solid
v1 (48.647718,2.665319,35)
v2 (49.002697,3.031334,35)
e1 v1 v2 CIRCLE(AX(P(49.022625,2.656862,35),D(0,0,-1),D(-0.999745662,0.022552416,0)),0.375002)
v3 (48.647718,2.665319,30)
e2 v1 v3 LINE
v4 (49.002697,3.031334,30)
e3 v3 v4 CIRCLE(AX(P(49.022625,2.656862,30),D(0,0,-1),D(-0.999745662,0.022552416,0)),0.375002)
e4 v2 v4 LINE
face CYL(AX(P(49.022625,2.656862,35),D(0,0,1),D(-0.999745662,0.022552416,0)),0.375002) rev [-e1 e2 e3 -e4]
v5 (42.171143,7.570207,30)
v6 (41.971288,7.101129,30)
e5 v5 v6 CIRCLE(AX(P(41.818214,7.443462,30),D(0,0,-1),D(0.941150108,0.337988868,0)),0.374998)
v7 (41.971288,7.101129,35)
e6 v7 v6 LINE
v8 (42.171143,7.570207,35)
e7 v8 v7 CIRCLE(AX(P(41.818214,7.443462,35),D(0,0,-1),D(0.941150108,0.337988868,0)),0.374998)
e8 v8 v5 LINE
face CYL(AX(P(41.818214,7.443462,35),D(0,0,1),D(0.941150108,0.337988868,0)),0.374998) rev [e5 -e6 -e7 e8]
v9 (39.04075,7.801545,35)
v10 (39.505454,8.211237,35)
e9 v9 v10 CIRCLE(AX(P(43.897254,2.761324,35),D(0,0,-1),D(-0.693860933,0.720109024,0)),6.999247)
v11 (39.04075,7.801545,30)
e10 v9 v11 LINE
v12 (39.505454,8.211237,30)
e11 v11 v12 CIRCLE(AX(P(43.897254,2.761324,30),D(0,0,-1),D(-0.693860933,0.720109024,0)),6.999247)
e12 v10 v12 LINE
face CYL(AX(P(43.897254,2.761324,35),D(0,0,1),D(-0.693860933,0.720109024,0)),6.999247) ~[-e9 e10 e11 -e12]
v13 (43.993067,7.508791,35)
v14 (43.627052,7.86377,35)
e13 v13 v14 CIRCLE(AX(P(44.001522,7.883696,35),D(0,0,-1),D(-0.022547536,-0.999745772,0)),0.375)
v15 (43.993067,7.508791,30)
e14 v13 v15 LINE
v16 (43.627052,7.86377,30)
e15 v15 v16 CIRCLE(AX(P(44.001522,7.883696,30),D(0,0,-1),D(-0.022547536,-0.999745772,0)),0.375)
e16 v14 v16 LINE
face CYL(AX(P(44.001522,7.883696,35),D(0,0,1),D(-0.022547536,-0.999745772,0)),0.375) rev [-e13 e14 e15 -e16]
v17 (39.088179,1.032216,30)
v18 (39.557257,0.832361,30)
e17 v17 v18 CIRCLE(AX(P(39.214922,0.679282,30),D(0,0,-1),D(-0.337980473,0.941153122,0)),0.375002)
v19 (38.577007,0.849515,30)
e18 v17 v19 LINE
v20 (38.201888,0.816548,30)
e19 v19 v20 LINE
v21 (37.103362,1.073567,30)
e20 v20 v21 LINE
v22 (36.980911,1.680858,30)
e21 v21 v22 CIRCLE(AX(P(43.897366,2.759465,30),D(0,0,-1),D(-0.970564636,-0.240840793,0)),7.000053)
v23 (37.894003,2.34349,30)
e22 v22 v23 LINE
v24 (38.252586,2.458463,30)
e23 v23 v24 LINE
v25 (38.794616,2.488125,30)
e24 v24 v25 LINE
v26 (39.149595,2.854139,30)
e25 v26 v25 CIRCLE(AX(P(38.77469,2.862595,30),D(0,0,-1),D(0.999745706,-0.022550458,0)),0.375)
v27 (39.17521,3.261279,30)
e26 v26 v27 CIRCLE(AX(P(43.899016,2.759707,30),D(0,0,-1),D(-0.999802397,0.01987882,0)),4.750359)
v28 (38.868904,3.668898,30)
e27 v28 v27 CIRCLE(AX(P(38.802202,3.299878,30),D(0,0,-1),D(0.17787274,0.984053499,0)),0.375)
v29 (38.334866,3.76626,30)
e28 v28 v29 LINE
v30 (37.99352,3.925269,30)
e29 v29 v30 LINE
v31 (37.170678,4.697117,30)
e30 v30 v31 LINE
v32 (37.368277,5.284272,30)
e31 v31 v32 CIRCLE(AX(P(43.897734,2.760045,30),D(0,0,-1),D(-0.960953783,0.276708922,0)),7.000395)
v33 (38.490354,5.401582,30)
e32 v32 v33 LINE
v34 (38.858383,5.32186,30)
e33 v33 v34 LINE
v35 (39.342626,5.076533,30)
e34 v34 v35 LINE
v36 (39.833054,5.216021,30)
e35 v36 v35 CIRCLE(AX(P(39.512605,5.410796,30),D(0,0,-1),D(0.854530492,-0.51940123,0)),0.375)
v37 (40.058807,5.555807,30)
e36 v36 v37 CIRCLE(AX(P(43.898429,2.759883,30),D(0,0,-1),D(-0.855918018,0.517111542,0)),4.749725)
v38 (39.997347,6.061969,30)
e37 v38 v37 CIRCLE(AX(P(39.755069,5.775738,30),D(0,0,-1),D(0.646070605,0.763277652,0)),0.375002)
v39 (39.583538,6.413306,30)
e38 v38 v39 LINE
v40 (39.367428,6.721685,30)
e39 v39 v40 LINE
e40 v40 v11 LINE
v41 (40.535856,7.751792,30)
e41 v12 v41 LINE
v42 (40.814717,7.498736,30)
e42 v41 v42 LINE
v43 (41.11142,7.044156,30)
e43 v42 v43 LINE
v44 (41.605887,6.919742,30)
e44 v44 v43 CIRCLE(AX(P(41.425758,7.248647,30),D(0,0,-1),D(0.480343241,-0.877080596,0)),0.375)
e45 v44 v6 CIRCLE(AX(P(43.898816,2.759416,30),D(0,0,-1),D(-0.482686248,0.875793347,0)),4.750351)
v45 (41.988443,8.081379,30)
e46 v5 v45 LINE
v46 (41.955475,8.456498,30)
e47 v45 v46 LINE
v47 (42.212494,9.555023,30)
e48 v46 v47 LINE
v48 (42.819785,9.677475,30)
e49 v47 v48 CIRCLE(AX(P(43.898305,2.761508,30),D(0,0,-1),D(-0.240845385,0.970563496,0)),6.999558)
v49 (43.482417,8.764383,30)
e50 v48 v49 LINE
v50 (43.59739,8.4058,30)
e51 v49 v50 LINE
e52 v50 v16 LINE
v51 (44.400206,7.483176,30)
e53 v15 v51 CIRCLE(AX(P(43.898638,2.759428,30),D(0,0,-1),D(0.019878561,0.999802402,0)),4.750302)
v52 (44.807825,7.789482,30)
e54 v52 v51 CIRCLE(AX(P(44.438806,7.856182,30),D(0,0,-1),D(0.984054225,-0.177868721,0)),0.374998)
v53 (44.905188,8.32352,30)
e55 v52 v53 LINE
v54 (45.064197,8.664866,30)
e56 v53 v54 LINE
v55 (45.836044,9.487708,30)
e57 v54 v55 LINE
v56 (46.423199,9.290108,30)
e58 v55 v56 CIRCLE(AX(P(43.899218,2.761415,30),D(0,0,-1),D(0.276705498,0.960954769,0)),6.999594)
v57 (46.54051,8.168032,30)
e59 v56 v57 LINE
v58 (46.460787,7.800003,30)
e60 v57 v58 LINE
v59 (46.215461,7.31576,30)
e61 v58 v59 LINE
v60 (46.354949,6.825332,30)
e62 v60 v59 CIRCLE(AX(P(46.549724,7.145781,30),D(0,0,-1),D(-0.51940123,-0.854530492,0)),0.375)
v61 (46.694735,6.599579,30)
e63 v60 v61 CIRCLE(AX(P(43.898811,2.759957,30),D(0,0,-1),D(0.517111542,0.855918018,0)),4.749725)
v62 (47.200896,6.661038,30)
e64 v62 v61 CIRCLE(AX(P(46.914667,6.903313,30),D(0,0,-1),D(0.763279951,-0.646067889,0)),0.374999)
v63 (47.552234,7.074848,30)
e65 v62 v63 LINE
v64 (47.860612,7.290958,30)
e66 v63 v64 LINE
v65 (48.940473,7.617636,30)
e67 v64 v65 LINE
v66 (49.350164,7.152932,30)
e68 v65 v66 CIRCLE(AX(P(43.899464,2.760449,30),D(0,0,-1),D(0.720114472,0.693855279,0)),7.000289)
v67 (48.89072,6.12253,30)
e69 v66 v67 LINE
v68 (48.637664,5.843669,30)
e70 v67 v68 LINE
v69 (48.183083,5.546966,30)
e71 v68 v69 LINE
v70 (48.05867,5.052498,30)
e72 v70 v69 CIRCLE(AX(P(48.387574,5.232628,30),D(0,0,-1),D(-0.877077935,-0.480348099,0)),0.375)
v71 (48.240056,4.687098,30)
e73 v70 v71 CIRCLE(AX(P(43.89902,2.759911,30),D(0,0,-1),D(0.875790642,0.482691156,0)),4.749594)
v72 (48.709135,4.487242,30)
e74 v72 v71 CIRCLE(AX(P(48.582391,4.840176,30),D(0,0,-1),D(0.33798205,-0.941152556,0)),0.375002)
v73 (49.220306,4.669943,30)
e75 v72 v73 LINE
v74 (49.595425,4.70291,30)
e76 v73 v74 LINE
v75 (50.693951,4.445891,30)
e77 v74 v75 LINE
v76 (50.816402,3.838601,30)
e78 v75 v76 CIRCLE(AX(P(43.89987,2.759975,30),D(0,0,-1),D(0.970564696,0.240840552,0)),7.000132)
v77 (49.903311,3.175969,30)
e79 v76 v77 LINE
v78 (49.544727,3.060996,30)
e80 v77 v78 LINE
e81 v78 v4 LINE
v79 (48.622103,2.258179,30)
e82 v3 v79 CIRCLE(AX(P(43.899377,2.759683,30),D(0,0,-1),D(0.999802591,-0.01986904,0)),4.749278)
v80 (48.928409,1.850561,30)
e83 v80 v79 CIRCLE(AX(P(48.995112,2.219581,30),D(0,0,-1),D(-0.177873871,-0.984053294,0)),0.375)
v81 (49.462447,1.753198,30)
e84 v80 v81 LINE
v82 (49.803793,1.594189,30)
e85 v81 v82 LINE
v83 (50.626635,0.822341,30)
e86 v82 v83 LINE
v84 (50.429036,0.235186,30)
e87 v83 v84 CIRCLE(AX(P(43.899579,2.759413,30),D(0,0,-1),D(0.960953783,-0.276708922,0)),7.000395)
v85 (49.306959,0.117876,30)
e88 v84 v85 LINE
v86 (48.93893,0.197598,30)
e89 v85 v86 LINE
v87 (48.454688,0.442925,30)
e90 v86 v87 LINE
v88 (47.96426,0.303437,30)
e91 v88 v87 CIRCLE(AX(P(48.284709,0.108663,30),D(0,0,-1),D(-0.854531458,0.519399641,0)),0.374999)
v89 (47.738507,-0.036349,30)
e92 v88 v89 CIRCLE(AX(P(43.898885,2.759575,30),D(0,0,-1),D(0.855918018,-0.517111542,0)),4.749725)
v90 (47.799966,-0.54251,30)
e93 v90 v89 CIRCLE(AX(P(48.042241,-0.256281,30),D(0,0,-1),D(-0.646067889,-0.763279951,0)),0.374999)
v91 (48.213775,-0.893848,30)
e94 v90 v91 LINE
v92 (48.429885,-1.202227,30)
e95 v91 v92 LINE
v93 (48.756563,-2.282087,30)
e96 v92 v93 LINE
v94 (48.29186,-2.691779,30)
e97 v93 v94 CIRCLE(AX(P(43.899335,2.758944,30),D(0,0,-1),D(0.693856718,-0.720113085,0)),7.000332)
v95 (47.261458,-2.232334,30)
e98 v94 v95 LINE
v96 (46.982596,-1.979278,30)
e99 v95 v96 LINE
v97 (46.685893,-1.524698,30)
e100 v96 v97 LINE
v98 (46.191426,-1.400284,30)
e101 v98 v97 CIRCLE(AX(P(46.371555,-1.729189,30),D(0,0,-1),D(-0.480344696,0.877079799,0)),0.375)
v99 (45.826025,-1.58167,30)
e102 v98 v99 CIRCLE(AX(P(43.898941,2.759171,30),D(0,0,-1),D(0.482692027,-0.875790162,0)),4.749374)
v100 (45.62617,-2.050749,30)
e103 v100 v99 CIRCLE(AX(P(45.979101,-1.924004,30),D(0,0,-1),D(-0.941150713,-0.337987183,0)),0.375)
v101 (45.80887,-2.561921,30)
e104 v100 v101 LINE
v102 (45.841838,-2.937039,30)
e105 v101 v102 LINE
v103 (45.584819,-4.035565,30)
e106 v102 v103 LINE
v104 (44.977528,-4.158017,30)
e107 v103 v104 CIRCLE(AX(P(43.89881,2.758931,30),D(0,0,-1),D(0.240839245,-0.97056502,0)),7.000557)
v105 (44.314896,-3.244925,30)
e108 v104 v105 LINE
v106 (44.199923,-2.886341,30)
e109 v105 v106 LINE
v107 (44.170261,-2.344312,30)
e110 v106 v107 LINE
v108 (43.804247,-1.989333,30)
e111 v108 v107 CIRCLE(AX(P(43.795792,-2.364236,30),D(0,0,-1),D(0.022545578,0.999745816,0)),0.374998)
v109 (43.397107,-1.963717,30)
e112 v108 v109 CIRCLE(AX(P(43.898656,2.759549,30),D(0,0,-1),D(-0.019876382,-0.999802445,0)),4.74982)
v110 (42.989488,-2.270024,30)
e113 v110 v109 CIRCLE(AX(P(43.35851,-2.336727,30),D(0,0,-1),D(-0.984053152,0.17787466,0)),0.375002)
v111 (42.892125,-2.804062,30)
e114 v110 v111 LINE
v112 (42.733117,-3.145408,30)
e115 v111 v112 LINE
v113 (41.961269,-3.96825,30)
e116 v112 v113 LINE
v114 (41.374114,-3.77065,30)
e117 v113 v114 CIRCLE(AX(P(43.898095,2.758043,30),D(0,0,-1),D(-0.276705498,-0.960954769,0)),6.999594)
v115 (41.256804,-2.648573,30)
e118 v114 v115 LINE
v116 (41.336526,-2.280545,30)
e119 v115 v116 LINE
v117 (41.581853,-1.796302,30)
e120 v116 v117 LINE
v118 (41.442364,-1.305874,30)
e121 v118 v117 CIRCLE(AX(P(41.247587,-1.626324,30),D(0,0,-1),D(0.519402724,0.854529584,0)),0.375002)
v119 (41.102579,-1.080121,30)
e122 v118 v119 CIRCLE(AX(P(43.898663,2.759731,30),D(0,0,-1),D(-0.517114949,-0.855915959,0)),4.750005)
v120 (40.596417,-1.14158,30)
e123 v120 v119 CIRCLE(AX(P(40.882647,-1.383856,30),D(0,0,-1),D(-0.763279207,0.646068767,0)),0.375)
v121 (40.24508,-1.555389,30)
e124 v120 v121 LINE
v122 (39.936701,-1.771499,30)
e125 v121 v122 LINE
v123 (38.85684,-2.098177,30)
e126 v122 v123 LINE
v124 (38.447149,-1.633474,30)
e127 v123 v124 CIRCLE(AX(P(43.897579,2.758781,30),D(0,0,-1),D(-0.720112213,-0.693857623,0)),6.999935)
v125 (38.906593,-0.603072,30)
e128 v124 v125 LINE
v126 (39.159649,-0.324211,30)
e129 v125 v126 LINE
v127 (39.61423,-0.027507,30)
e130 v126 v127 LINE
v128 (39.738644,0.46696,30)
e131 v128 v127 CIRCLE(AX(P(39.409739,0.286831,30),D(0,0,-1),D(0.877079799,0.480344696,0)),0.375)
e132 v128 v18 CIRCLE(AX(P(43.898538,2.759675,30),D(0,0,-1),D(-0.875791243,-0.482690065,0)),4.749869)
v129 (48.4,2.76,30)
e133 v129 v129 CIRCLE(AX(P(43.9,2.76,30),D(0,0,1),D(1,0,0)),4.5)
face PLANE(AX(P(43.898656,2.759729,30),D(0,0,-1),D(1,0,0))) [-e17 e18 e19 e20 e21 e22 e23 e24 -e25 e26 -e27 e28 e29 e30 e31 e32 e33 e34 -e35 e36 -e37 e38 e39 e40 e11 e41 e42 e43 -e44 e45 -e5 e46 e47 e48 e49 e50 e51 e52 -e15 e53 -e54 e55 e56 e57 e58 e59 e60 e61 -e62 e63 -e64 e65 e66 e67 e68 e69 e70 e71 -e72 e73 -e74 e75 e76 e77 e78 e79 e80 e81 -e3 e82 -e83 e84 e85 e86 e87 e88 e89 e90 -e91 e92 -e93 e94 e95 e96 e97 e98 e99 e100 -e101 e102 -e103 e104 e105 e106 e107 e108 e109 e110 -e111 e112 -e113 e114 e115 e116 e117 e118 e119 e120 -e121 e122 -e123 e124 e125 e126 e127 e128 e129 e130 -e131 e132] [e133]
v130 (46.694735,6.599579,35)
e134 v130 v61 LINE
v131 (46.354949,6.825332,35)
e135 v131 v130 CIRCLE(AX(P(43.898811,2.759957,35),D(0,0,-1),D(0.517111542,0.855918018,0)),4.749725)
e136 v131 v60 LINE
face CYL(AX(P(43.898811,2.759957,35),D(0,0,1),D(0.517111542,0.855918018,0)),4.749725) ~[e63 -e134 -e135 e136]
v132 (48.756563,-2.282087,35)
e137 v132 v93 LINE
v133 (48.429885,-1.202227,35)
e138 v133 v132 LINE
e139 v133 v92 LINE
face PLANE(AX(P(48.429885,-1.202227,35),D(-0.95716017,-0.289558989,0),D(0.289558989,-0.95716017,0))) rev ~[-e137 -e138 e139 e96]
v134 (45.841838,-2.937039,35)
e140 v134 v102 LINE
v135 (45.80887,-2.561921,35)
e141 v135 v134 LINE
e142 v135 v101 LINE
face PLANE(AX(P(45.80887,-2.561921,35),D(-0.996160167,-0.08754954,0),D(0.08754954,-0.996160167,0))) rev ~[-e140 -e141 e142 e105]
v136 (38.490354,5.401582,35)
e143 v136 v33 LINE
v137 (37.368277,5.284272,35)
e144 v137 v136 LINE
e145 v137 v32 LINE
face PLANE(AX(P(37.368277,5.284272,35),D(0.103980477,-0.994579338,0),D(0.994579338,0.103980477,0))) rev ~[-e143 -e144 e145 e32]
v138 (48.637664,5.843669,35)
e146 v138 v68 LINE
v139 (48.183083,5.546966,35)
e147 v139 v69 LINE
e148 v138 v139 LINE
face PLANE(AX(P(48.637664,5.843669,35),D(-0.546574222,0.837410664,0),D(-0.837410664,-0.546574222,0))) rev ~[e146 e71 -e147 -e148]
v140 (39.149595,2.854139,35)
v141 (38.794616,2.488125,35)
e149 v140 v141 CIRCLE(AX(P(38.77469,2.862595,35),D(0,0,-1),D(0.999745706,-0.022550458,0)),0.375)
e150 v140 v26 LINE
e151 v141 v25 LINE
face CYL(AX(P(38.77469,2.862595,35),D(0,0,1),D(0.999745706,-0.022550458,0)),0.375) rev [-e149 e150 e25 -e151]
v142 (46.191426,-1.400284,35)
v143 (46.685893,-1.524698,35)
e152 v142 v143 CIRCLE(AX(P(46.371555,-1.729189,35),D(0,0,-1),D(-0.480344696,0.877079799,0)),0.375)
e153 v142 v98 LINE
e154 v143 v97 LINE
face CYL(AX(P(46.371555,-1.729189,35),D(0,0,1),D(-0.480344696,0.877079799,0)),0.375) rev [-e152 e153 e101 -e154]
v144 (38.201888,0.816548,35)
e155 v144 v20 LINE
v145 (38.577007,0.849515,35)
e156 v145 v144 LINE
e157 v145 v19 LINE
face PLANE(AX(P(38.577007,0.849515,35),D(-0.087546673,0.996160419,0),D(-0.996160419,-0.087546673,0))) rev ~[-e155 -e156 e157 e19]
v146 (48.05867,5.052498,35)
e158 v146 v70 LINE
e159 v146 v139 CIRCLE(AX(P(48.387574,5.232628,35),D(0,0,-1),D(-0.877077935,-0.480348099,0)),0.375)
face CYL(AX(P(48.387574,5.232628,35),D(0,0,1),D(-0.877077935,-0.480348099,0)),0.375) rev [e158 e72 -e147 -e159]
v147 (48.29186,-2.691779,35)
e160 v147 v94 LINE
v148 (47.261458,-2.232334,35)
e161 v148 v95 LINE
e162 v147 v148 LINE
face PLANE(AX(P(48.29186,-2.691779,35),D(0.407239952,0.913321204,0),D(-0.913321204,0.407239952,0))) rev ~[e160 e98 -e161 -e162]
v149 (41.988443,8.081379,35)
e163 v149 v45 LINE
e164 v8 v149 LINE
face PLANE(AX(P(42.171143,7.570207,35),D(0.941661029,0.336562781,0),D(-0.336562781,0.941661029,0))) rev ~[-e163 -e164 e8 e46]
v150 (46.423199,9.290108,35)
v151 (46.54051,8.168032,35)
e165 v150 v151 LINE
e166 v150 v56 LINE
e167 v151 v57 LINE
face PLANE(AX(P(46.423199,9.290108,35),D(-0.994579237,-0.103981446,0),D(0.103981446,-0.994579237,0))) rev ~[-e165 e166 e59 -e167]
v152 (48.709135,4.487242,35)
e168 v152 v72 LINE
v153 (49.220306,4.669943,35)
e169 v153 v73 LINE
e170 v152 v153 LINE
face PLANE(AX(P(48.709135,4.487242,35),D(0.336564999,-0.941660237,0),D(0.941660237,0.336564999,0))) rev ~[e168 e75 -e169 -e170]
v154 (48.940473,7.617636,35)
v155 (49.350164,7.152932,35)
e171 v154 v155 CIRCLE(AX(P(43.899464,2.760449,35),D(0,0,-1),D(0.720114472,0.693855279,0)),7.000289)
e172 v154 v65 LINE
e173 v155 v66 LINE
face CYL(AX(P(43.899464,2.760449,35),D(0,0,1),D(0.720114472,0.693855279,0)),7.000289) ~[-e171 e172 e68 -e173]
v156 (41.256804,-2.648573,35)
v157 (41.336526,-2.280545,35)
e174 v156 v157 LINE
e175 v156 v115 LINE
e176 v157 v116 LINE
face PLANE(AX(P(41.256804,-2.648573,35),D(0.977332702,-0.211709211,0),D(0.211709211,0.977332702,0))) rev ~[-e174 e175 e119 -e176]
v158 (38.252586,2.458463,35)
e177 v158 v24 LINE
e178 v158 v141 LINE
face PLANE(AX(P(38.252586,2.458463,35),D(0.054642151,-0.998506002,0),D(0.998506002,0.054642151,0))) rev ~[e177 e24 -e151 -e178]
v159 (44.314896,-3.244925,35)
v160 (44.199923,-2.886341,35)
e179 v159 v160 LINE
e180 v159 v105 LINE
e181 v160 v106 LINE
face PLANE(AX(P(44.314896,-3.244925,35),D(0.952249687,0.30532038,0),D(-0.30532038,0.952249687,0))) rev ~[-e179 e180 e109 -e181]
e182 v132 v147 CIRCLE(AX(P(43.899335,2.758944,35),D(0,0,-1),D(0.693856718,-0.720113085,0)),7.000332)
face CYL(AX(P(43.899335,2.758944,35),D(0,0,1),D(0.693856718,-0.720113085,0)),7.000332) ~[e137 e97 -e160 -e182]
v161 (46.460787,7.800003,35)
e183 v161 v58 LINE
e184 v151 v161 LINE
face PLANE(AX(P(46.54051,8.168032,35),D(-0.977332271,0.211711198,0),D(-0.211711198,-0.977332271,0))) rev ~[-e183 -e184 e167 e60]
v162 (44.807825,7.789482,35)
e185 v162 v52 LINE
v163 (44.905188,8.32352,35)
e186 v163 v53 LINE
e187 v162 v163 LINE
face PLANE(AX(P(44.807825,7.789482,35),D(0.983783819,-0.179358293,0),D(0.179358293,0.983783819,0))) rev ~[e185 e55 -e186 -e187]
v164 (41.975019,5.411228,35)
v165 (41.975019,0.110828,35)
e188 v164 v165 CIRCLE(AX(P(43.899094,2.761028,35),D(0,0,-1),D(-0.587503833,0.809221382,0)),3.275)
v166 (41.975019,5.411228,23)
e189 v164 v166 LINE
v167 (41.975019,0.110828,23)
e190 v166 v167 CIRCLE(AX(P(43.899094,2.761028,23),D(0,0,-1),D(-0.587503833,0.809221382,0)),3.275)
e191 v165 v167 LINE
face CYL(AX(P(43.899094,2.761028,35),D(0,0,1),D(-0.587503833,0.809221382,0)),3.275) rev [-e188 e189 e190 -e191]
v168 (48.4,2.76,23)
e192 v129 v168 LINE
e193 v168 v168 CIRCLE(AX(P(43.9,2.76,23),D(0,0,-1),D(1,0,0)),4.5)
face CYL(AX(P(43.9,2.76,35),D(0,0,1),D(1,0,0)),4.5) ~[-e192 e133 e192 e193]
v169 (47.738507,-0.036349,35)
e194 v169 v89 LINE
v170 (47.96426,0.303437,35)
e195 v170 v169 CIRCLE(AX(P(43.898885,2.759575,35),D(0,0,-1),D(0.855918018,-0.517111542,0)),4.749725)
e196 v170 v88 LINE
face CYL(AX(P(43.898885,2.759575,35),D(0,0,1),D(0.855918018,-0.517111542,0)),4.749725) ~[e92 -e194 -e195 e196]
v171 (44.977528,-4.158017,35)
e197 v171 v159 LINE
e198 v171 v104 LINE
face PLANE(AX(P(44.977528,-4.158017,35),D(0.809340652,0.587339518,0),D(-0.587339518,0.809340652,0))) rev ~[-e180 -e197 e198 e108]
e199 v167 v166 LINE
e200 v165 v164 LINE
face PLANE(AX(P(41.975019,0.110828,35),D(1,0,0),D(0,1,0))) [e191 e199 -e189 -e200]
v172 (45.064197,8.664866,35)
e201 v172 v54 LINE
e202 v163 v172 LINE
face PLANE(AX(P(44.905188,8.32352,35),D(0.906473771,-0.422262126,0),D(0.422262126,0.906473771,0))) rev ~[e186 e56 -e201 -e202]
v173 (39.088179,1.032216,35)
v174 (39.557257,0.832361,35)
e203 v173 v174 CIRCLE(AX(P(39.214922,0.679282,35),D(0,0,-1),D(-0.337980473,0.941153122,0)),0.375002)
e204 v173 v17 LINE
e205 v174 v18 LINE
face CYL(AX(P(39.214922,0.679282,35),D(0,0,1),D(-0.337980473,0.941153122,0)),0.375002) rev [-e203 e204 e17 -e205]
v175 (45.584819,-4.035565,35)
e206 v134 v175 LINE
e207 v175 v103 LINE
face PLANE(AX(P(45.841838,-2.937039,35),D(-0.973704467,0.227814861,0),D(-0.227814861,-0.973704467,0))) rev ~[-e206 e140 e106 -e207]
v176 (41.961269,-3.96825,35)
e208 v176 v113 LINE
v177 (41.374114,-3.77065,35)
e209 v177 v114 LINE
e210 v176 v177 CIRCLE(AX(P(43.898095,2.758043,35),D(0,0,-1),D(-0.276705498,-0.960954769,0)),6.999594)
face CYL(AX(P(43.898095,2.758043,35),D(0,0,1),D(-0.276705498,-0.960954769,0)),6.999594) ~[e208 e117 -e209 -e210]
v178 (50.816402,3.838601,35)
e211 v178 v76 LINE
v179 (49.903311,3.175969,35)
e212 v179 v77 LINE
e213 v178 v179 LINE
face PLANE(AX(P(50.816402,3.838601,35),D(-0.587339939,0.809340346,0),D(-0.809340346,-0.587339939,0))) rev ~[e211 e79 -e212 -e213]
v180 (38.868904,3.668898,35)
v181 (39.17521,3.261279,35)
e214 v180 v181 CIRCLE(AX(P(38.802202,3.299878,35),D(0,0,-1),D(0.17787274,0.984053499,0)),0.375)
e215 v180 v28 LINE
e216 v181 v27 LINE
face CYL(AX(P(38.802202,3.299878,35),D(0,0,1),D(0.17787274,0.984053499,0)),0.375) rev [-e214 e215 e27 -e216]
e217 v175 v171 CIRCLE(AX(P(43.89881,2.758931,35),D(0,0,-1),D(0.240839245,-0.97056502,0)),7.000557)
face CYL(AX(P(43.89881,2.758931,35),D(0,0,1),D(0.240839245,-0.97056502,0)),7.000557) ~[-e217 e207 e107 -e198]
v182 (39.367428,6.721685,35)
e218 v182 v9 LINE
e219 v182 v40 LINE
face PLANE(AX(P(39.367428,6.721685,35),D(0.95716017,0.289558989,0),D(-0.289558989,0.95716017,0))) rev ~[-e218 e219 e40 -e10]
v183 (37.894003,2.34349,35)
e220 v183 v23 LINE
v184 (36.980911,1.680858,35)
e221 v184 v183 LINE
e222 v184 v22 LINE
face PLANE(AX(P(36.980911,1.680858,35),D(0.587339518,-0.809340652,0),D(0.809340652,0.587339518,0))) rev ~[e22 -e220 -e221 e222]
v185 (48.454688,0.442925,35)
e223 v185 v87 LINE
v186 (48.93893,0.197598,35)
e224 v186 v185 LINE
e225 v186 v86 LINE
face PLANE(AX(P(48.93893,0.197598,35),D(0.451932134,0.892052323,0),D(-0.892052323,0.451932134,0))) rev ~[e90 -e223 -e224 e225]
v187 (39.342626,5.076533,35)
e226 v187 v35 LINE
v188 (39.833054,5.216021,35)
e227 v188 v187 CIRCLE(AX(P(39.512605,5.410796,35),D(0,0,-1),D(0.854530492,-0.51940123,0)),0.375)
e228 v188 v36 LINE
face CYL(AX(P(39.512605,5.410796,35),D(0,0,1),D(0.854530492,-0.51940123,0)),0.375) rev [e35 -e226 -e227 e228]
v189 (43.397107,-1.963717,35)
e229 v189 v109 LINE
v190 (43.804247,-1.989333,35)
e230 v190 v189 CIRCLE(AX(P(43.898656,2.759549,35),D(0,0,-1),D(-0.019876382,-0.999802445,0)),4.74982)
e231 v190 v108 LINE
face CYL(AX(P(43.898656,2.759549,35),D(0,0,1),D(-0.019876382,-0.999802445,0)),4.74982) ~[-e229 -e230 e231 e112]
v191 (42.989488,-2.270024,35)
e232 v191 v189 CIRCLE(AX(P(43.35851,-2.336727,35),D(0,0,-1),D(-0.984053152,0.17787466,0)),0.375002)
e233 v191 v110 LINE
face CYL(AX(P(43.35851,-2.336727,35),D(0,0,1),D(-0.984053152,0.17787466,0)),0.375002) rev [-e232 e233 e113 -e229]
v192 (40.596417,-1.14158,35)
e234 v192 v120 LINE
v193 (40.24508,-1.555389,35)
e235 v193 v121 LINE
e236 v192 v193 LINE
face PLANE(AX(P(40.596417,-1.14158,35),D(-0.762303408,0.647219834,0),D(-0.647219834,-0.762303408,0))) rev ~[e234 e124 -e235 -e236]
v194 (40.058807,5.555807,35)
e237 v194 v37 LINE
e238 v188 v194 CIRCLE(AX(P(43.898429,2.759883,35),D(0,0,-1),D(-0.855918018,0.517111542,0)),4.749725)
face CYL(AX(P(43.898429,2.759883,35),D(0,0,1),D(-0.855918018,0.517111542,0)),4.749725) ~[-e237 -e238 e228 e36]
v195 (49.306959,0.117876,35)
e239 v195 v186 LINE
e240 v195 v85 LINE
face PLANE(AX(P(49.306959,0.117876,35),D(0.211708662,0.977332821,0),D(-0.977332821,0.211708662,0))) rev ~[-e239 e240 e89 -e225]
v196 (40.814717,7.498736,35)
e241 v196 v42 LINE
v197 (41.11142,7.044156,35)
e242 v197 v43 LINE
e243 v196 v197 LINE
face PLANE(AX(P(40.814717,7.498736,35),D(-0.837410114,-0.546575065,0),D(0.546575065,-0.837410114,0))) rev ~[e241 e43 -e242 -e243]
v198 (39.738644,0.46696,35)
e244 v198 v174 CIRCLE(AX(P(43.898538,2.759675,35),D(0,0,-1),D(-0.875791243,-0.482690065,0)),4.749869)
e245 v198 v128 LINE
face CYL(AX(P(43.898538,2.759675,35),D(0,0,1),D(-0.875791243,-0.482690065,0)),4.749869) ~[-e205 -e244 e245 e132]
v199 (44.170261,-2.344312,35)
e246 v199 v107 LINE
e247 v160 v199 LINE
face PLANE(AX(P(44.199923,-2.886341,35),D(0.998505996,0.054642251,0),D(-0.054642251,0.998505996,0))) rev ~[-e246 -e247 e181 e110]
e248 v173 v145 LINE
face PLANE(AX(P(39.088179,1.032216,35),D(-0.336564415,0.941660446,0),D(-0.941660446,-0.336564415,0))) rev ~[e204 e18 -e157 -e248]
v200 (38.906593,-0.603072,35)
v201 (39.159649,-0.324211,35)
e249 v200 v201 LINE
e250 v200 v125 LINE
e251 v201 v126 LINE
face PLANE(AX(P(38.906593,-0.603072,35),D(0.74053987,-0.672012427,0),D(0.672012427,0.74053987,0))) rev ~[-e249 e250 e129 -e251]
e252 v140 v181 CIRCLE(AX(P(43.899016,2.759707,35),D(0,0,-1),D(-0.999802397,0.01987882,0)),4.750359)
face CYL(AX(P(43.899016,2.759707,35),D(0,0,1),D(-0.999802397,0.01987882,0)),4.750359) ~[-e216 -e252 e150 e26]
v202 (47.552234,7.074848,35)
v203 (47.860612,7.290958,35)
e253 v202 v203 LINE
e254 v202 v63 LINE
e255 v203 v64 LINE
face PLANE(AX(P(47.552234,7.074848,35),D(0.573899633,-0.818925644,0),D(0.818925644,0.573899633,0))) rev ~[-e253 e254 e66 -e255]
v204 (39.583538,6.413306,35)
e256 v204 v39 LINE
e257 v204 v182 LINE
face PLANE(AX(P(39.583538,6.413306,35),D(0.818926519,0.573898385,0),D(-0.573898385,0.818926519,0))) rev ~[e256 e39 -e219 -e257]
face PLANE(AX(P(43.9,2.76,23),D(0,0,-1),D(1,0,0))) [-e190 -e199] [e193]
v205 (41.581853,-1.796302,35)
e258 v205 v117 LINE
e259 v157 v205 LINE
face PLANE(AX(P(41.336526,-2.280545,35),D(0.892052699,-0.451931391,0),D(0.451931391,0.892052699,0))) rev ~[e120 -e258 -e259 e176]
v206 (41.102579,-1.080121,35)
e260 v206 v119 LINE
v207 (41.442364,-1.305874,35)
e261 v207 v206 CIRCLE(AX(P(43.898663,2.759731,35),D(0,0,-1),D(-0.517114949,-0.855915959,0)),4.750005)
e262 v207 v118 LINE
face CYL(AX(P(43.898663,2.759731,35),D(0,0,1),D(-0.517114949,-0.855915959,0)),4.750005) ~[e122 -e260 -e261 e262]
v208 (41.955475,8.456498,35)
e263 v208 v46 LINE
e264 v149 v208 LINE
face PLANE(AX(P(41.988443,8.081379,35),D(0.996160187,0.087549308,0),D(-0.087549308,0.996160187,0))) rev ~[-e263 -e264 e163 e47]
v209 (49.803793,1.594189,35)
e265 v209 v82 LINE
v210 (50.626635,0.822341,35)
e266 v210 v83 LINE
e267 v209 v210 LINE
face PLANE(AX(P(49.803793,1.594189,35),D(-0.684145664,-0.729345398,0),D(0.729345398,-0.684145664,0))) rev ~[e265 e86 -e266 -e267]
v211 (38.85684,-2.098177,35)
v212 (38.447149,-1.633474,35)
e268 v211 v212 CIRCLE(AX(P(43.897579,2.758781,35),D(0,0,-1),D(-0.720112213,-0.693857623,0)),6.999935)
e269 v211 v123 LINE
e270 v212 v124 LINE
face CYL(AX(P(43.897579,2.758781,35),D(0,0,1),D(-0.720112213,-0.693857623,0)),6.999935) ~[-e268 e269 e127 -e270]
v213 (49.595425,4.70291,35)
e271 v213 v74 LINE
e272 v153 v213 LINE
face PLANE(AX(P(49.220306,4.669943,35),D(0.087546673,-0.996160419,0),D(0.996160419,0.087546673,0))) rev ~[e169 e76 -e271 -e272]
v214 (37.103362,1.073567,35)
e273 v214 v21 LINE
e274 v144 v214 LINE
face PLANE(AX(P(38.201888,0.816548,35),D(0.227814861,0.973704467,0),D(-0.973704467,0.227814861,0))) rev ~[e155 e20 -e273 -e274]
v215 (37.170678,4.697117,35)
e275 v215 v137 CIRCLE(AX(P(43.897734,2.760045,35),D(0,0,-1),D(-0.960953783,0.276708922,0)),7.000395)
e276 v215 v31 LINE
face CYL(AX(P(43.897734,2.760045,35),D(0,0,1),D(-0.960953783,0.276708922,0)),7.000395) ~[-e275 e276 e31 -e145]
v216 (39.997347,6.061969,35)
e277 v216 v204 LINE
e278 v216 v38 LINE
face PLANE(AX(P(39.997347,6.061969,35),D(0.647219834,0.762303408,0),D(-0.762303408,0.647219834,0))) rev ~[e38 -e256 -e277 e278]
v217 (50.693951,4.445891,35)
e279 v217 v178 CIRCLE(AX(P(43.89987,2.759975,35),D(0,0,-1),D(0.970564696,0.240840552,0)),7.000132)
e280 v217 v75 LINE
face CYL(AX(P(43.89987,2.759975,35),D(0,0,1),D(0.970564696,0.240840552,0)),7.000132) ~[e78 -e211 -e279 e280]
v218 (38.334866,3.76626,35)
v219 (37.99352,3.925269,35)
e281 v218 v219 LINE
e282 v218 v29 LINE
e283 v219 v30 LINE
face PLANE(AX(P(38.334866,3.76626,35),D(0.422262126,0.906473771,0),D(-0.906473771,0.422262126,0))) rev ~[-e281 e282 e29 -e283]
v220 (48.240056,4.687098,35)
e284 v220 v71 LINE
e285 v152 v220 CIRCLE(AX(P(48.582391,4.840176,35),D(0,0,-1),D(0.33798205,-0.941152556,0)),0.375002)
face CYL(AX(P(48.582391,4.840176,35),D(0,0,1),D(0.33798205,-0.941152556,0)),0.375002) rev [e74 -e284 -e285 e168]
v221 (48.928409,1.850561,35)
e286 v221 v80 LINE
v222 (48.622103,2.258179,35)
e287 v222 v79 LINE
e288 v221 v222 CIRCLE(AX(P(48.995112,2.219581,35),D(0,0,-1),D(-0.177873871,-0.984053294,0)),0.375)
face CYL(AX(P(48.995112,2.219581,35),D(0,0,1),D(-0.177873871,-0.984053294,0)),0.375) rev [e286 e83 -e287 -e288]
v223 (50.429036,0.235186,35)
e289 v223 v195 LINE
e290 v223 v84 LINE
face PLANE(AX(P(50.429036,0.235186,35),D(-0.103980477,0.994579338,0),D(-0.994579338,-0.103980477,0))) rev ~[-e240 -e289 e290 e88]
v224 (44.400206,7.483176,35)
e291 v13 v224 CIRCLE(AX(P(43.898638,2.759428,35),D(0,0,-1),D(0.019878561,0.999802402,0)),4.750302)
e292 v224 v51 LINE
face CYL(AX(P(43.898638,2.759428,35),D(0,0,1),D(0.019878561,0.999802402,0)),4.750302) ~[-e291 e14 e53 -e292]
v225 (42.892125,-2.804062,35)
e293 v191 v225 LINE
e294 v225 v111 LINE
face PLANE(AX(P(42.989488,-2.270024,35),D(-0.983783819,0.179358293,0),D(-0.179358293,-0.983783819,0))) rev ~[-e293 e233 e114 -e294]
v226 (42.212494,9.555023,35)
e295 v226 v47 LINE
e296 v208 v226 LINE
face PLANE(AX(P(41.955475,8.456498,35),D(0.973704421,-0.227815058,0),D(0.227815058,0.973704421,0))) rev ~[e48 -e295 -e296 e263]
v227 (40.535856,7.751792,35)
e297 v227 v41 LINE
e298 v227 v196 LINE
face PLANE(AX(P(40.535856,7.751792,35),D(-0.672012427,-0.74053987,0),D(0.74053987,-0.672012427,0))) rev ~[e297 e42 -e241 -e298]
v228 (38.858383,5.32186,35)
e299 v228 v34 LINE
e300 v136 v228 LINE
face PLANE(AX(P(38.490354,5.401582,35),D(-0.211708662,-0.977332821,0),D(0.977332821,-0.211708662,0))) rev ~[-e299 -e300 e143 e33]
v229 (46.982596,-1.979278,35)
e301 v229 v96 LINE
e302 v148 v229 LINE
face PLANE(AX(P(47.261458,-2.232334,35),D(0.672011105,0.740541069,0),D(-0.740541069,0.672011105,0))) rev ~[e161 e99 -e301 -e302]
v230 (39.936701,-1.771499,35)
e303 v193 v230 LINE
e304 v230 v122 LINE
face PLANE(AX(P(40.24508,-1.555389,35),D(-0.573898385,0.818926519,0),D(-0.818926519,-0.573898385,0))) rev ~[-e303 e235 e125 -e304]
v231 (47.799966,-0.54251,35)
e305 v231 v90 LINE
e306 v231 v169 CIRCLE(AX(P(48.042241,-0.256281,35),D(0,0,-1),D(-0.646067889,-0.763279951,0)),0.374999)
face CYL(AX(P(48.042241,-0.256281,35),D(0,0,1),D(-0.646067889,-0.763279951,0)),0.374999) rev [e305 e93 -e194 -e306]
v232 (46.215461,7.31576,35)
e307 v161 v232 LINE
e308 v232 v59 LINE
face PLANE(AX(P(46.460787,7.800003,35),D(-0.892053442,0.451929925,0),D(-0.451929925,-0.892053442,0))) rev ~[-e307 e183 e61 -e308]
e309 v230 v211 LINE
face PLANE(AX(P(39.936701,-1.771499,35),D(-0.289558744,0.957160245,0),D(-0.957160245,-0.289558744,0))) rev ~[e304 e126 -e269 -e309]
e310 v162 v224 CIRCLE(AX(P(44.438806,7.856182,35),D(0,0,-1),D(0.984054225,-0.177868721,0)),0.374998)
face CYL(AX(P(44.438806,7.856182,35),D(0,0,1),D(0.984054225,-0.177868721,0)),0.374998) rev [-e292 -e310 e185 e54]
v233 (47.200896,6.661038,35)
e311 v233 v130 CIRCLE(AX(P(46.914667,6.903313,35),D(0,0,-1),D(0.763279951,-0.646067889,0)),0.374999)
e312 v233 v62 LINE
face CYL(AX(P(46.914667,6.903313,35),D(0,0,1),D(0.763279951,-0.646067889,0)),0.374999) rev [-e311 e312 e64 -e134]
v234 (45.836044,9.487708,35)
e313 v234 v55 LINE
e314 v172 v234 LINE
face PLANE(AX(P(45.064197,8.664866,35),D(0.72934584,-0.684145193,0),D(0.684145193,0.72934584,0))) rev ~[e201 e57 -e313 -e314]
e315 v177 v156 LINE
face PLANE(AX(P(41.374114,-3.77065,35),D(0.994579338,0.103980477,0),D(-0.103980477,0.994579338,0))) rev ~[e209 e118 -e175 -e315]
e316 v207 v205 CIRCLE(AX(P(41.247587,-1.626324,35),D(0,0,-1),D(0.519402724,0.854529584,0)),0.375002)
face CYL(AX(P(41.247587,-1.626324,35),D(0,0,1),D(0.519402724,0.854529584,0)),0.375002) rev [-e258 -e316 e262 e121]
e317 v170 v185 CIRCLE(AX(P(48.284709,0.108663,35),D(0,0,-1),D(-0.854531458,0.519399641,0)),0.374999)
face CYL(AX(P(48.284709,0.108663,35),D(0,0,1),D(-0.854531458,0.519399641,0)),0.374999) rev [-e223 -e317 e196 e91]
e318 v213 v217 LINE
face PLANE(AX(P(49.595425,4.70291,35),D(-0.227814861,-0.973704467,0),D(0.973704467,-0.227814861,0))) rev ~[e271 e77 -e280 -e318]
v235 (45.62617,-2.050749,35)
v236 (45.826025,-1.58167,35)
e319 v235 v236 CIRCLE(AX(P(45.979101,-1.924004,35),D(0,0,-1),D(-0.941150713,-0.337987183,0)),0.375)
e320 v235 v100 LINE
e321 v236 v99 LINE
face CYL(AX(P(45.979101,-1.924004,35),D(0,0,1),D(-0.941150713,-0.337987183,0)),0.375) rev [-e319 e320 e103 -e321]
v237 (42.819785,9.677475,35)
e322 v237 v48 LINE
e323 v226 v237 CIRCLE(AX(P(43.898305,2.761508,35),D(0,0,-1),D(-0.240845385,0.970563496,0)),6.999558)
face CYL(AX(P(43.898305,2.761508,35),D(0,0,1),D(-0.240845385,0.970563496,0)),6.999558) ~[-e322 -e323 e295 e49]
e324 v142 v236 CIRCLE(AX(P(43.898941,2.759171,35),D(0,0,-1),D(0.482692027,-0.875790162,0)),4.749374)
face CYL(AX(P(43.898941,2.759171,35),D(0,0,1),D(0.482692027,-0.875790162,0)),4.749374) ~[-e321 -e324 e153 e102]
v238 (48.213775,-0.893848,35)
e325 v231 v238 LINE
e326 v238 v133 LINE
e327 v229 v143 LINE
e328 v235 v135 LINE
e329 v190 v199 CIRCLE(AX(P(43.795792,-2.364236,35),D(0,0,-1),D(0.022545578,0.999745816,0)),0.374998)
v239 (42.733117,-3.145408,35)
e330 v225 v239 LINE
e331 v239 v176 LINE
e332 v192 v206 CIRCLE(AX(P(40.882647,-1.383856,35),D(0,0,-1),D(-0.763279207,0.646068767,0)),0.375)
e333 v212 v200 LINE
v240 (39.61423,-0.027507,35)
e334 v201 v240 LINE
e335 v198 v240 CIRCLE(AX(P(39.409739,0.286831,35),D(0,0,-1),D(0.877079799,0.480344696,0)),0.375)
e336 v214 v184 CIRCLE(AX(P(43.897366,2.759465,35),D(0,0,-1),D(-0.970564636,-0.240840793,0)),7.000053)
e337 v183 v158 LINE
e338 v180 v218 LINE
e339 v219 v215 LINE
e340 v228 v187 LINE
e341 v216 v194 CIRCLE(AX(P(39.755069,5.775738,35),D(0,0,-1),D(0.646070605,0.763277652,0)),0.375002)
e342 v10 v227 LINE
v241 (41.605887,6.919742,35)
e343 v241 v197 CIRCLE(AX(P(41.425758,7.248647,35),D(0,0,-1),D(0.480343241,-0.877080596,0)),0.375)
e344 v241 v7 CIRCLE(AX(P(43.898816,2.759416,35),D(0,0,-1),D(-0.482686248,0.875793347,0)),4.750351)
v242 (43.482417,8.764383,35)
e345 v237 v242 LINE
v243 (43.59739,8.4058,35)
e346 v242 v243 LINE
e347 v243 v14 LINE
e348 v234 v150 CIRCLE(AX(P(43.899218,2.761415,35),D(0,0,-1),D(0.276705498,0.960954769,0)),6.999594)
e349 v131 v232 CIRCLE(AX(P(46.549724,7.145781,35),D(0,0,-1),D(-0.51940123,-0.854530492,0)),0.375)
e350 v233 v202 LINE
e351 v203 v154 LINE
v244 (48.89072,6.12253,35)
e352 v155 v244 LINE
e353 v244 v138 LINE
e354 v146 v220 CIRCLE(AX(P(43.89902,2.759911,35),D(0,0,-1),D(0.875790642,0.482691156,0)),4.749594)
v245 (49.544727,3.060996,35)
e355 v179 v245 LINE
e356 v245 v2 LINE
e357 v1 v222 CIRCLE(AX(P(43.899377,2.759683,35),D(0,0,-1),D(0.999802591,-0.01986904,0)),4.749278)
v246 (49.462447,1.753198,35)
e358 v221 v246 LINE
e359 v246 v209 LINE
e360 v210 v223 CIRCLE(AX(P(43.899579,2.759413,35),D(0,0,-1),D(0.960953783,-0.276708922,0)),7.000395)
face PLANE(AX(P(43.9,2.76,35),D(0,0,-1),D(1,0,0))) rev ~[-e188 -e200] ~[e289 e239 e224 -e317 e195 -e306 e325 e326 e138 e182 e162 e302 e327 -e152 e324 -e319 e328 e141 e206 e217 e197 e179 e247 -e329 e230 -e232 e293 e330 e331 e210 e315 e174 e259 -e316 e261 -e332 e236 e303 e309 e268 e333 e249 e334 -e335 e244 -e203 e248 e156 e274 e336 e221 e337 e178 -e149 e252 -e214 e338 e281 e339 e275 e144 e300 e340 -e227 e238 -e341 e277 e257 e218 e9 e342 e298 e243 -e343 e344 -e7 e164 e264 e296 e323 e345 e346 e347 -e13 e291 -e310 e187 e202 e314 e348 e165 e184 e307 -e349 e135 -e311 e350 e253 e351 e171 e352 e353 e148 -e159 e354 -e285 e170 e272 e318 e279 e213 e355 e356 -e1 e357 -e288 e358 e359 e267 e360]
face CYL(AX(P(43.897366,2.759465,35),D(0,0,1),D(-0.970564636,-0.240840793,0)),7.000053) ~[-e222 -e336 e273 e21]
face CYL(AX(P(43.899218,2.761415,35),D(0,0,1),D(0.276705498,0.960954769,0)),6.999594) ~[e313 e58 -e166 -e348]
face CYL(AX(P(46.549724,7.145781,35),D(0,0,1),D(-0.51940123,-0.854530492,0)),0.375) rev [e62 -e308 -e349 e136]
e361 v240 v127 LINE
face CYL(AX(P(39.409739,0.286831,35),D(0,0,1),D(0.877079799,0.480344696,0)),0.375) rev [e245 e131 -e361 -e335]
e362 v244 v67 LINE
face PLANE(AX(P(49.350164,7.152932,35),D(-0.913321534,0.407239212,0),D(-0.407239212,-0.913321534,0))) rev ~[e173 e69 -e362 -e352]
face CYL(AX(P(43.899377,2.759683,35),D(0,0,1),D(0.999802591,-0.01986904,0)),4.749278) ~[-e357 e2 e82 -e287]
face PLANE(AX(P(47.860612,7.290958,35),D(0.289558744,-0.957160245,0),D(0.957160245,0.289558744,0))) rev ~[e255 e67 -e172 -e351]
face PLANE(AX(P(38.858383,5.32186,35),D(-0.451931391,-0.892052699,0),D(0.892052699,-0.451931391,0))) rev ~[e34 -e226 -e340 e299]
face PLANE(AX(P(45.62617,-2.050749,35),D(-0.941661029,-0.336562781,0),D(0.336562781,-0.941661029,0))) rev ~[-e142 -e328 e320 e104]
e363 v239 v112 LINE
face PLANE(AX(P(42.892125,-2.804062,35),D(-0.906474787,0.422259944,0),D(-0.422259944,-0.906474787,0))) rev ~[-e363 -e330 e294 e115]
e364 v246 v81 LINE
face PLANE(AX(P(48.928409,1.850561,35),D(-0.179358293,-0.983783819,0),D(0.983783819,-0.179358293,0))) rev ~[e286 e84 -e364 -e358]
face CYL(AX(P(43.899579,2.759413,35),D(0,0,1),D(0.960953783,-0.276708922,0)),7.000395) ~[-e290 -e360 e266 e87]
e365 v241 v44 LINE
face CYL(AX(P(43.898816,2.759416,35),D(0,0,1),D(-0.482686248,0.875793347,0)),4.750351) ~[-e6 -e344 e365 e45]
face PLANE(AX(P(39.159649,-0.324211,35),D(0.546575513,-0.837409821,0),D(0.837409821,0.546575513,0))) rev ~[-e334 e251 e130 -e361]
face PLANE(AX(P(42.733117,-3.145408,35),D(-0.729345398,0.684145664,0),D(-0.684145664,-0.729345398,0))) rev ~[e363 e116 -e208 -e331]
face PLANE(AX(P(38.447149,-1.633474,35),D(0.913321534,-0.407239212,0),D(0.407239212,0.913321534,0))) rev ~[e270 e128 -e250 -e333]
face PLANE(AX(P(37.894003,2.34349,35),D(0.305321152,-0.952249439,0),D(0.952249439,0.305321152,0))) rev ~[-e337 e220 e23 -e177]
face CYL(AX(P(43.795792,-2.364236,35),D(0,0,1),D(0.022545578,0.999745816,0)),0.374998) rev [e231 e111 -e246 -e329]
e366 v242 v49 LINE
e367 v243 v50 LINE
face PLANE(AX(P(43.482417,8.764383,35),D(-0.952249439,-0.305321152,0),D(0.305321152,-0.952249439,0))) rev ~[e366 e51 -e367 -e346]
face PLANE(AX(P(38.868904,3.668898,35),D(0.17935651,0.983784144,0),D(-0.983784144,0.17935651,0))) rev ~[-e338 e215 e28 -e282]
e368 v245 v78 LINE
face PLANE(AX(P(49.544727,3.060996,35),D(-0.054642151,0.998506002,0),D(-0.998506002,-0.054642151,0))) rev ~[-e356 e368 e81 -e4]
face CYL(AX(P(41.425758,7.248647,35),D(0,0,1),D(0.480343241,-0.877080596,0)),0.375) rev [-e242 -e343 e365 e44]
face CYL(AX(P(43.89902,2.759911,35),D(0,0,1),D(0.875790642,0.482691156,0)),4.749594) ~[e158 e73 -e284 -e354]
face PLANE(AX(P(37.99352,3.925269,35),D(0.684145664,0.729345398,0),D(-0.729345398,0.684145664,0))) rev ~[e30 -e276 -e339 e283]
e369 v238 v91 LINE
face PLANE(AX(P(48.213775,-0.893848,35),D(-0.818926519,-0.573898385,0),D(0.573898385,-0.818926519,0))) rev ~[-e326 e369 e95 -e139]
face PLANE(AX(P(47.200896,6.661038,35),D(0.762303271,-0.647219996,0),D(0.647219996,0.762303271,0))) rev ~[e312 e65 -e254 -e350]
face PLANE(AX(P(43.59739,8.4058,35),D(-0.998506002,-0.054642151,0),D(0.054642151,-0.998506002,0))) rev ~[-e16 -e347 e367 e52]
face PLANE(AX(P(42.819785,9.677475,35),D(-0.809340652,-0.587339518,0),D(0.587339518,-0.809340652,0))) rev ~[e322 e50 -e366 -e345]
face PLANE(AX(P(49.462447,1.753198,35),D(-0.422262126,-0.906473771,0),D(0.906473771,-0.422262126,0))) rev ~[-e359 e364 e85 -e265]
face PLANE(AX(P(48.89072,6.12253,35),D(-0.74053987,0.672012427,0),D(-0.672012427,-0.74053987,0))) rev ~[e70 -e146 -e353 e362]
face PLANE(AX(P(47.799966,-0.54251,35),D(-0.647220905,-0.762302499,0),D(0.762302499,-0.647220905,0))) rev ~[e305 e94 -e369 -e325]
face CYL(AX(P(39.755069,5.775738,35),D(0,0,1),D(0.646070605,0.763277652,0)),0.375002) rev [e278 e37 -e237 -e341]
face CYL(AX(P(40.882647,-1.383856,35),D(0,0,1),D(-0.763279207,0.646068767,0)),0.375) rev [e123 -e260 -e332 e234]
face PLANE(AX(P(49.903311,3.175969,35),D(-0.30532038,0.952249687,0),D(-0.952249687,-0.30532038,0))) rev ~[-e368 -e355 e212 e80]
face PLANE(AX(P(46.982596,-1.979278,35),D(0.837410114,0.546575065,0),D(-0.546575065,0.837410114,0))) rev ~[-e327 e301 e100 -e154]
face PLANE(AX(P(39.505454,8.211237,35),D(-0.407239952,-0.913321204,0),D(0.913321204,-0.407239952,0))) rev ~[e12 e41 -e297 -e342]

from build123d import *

# Parameters (mm, degrees)
PAD018_DEPTH           = 12
CYLINDER023_R          = 4.5
CYLINDER023_DEPTH      = 12
PAD019_DEPTH           = 5
CUT017_PLACEMENT_ANGLE = 180


with BuildPart() as body016:
    # Sketch153 → Pad018 (new body)
    with BuildSketch(Plane.XY):
        with BuildLine():
            ThreePointArc((-1.924981, -2.651228), (3.274094, -0.001028), (-1.924981, 2.649172))
            Line((-1.924981, 2.649172), (-1.924981, -2.651228))
        make_face()
    extrude(amount=PAD018_DEPTH)


with BuildPart() as cylinder023:
    # Cylinder023 → Cylinder023 (new body)
    with BuildSketch(Plane.XY):
        Circle(CYLINDER023_R)
    extrude(amount=CYLINDER023_DEPTH)


with BuildPart() as pinion001:
    # Sketch154 → Pad019 (new body)
    with BuildSketch(Plane.XY):
        with BuildLine():
            Line((5.562447, 1.006802), (5.903793, 1.165811))
            Line((5.903793, 1.165811), (6.726635, 1.937659))
            ThreePointArc((6.726635, 1.937659), (6.634334, 2.233423), (6.529036, 2.524814))
            Line((6.529036, 2.524814), (5.406959, 2.642124))
            Line((5.406959, 2.642124), (5.03893, 2.562402))
            Line((5.03893, 2.562402), (4.554688, 2.317075))
            ThreePointArc((4.06426, 2.456563), (4.282119, 2.290644), (4.554688, 2.317075))
            ThreePointArc((4.06426, 2.456563), (3.955033, 2.628881), (3.838507, 2.796349))
            ThreePointArc((3.899966, 3.30251), (3.769976, 3.061482), (3.838507, 2.796349))
            Line((3.899966, 3.30251), (4.313775, 3.653848))
            Line((4.313775, 3.653848), (4.529885, 3.962227))
            Line((4.529885, 3.962227), (4.856563, 5.042087))
            ThreePointArc((4.856563, 5.042087), (4.628746, 5.252076), (4.39186, 5.451779))
            Line((4.39186, 5.451779), (3.361458, 4.992334))
            Line((3.361458, 4.992334), (3.082596, 4.739278))
            Line((3.082596, 4.739278), (2.785893, 4.284698))
            ThreePointArc((2.291426, 4.160284), (2.563058, 4.125524), (2.785893, 4.284698))
            ThreePointArc((2.291426, 4.160284), (2.110674, 4.254902), (1.926025, 4.34167))
            ThreePointArc((1.72617, 4.810749), (1.734109, 4.537017), (1.926025, 4.34167))
            Line((1.72617, 4.810749), (1.90887, 5.321921))
            Line((1.90887, 5.321921), (1.941838, 5.697039))
            Line((1.941838, 5.697039), (1.684819, 6.795565))
            ThreePointArc((1.684819, 6.795565), (1.382529, 6.863512), (1.077528, 6.918017))
            Line((1.077528, 6.918017), (0.414896, 6.004925))
            Line((0.414896, 6.004925), (0.299923, 5.646341))
            Line((0.299923, 5.646341), (0.270261, 5.104312))
            ThreePointArc((-0.095753, 4.749333), (0.156867, 4.855045), (0.270261, 5.104312))
            ThreePointArc((-0.095753, 4.749333), (-0.299598, 4.740898), (-0.502893, 4.723717))
            ThreePointArc((-0.910512, 5.030024), (-0.76677, 4.796935), (-0.502893, 4.723717))
            Line((-0.910512, 5.030024), (-1.007875, 5.564062))
            Line((-1.007875, 5.564062), (-1.166883, 5.905408))
            Line((-1.166883, 5.905408), (-1.938731, 6.72825))
            ThreePointArc((-1.938731, 6.72825), (-2.234496, 6.635949), (-2.525886, 6.53065))
            Line((-2.525886, 6.53065), (-2.643196, 5.408573))
            Line((-2.643196, 5.408573), (-2.563474, 5.040545))
            Line((-2.563474, 5.040545), (-2.318147, 4.556302))
            ThreePointArc((-2.457636, 4.065874), (-2.291717, 4.283734), (-2.318147, 4.556302))
            ThreePointArc((-2.457636, 4.065874), (-2.629953, 3.956647), (-2.797421, 3.840121))
            ThreePointArc((-3.303583, 3.90158), (-3.062555, 3.77159), (-2.797421, 3.840121))
            Line((-3.303583, 3.90158), (-3.65492, 4.315389))
            Line((-3.65492, 4.315389), (-3.963299, 4.531499))
            Line((-3.963299, 4.531499), (-5.04316, 4.858177))
            ThreePointArc((-5.04316, 4.858177), (-5.253149, 4.63036), (-5.452851, 4.393474))
            Line((-5.452851, 4.393474), (-4.993407, 3.363072))
            Line((-4.993407, 3.363072), (-4.740351, 3.084211))
            Line((-4.740351, 3.084211), (-4.28577, 2.787507))
            ThreePointArc((-4.161356, 2.29304), (-4.126596, 2.564672), (-4.28577, 2.787507))
            ThreePointArc((-4.161356, 2.29304), (-4.255974, 2.112288), (-4.342743, 1.927639))
            ThreePointArc((-4.811821, 1.727784), (-4.53809, 1.735724), (-4.342743, 1.927639))
            Line((-4.811821, 1.727784), (-5.322993, 1.910485))
            Line((-5.322993, 1.910485), (-5.698112, 1.943452))
            Line((-5.698112, 1.943452), (-6.796638, 1.686433))
            ThreePointArc((-6.796638, 1.686433), (-6.864585, 1.384143), (-6.919089, 1.079142))
            Line((-6.919089, 1.079142), (-6.005997, 0.41651))
            Line((-6.005997, 0.41651), (-5.647414, 0.301537))
            Line((-5.647414, 0.301537), (-5.105384, 0.271875))
            ThreePointArc((-4.750405, -0.094139), (-4.856118, 0.158481), (-5.105384, 0.271875))
            ThreePointArc((-4.750405, -0.094139), (-4.74197, -0.297984), (-4.72479, -0.501279))
            ThreePointArc((-5.031096, -0.908898), (-4.798007, -0.765156), (-4.72479, -0.501279))
            Line((-5.031096, -0.908898), (-5.565134, -1.00626))
            Line((-5.565134, -1.00626), (-5.90648, -1.165269))
            Line((-5.90648, -1.165269), (-6.729322, -1.937117))
            ThreePointArc((-6.729322, -1.937117), (-6.637021, -2.232881), (-6.531723, -2.524272))
            Line((-6.531723, -2.524272), (-5.409646, -2.641582))
            Line((-5.409646, -2.641582), (-5.041617, -2.56186))
            Line((-5.041617, -2.56186), (-4.557374, -2.316533))
            ThreePointArc((-4.066946, -2.456021), (-4.284806, -2.290102), (-4.557374, -2.316533))
            ThreePointArc((-4.066946, -2.456021), (-3.957719, -2.628339), (-3.841193, -2.795807))
            ThreePointArc((-3.902653, -3.301969), (-3.772663, -3.06094), (-3.841193, -2.795807))
            Line((-3.902653, -3.301969), (-4.316462, -3.653306))
            Line((-4.316462, -3.653306), (-4.532572, -3.961685))
            Line((-4.532572, -3.961685), (-4.85925, -5.041545))
            ThreePointArc((-4.85925, -5.041545), (-4.631433, -5.251535), (-4.394546, -5.451237))
            Line((-4.394546, -5.451237), (-3.364144, -4.991792))
            Line((-3.364144, -4.991792), (-3.085283, -4.738736))
            Line((-3.085283, -4.738736), (-2.78858, -4.284156))
            ThreePointArc((-2.294113, -4.159742), (-2.565744, -4.124982), (-2.78858, -4.284156))
            ThreePointArc((-2.294113, -4.159742), (-2.11336, -4.25436), (-1.928712, -4.341129))
            ThreePointArc((-1.728857, -4.810207), (-1.736796, -4.536475), (-1.928712, -4.341129))
            Line((-1.728857, -4.810207), (-1.911557, -5.321379))
            Line((-1.911557, -5.321379), (-1.944525, -5.696498))
            Line((-1.944525, -5.696498), (-1.687506, -6.795023))
            ThreePointArc((-1.687506, -6.795023), (-1.385216, -6.862971), (-1.080215, -6.917475))
            Line((-1.080215, -6.917475), (-0.417583, -6.004383))
            Line((-0.417583, -6.004383), (-0.30261, -5.6458))
            Line((-0.30261, -5.6458), (-0.272948, -5.10377))
            ThreePointArc((0.093067, -4.748791), (-0.159553, -4.854503), (-0.272948, -5.10377))
            ThreePointArc((0.093067, -4.748791), (0.296912, -4.740356), (0.500206, -4.723176))
            ThreePointArc((0.907825, -5.029482), (0.764084, -4.796393), (0.500206, -4.723176))
            Line((0.907825, -5.029482), (1.005188, -5.56352))
            Line((1.005188, -5.56352), (1.164197, -5.904866))
            Line((1.164197, -5.904866), (1.936044, -6.727708))
            ThreePointArc((1.936044, -6.727708), (2.231809, -6.635407), (2.523199, -6.530108))
            Line((2.523199, -6.530108), (2.64051, -5.408032))
            Line((2.64051, -5.408032), (2.560787, -5.040003))
            Line((2.560787, -5.040003), (2.315461, -4.55576))
            ThreePointArc((2.454949, -4.065332), (2.28903, -4.283192), (2.315461, -4.55576))
            ThreePointArc((2.454949, -4.065332), (2.627267, -3.956105), (2.794735, -3.839579))
            ThreePointArc((3.300896, -3.901038), (3.059868, -3.771048), (2.794735, -3.839579))
            Line((3.300896, -3.901038), (3.652234, -4.314848))
            Line((3.652234, -4.314848), (3.960612, -4.530958))
            Line((3.960612, -4.530958), (5.040473, -4.857636))
            ThreePointArc((5.040473, -4.857636), (5.250462, -4.629818), (5.450164, -4.392932))
            Line((5.450164, -4.392932), (4.99072, -3.36253))
            Line((4.99072, -3.36253), (4.737664, -3.083669))
            Line((4.737664, -3.083669), (4.283083, -2.786966))
            ThreePointArc((4.15867, -2.292498), (4.123909, -2.56413), (4.283083, -2.786966))
            ThreePointArc((4.15867, -2.292498), (4.253288, -2.111746), (4.340056, -1.927098))
            ThreePointArc((4.809135, -1.727242), (4.535403, -1.735182), (4.340056, -1.927098))
            Line((4.809135, -1.727242), (5.320306, -1.909943))
            Line((5.320306, -1.909943), (5.695425, -1.94291))
            Line((5.695425, -1.94291), (6.793951, -1.685891))
            ThreePointArc((6.793951, -1.685891), (6.861898, -1.383601), (6.916402, -1.078601))
            Line((6.916402, -1.078601), (6.003311, -0.415969))
            Line((6.003311, -0.415969), (5.644727, -0.300996))
            Line((5.644727, -0.300996), (5.102697, -0.271334))
            ThreePointArc((4.747718, 0.094681), (4.853431, -0.157939), (5.102697, -0.271334))
            ThreePointArc((4.747718, 0.094681), (4.739284, 0.298526), (4.722103, 0.501821))
            ThreePointArc((5.028409, 0.909439), (4.795321, 0.765698), (4.722103, 0.501821))
            Line((5.028409, 0.909439), (5.562447, 1.006802))
        make_face()
    extrude(amount=PAD019_DEPTH)

    # Fusion024: union Cylinder023
    add(cylinder023.part)

    # Cut017: cut Body016
    add(body016.part, mode=Mode.SUBTRACT)


with BuildPart() as pinion001_1:
    # Cut017 placement: moved
    add(pinion001.part.moved(Location((43.9, 2.76, 35))).rotate(Axis((43.9, 2.76, 35), (1, 0, 0)), CUT017_PLACEMENT_ANGLE))


solid = pinion001_1.part
